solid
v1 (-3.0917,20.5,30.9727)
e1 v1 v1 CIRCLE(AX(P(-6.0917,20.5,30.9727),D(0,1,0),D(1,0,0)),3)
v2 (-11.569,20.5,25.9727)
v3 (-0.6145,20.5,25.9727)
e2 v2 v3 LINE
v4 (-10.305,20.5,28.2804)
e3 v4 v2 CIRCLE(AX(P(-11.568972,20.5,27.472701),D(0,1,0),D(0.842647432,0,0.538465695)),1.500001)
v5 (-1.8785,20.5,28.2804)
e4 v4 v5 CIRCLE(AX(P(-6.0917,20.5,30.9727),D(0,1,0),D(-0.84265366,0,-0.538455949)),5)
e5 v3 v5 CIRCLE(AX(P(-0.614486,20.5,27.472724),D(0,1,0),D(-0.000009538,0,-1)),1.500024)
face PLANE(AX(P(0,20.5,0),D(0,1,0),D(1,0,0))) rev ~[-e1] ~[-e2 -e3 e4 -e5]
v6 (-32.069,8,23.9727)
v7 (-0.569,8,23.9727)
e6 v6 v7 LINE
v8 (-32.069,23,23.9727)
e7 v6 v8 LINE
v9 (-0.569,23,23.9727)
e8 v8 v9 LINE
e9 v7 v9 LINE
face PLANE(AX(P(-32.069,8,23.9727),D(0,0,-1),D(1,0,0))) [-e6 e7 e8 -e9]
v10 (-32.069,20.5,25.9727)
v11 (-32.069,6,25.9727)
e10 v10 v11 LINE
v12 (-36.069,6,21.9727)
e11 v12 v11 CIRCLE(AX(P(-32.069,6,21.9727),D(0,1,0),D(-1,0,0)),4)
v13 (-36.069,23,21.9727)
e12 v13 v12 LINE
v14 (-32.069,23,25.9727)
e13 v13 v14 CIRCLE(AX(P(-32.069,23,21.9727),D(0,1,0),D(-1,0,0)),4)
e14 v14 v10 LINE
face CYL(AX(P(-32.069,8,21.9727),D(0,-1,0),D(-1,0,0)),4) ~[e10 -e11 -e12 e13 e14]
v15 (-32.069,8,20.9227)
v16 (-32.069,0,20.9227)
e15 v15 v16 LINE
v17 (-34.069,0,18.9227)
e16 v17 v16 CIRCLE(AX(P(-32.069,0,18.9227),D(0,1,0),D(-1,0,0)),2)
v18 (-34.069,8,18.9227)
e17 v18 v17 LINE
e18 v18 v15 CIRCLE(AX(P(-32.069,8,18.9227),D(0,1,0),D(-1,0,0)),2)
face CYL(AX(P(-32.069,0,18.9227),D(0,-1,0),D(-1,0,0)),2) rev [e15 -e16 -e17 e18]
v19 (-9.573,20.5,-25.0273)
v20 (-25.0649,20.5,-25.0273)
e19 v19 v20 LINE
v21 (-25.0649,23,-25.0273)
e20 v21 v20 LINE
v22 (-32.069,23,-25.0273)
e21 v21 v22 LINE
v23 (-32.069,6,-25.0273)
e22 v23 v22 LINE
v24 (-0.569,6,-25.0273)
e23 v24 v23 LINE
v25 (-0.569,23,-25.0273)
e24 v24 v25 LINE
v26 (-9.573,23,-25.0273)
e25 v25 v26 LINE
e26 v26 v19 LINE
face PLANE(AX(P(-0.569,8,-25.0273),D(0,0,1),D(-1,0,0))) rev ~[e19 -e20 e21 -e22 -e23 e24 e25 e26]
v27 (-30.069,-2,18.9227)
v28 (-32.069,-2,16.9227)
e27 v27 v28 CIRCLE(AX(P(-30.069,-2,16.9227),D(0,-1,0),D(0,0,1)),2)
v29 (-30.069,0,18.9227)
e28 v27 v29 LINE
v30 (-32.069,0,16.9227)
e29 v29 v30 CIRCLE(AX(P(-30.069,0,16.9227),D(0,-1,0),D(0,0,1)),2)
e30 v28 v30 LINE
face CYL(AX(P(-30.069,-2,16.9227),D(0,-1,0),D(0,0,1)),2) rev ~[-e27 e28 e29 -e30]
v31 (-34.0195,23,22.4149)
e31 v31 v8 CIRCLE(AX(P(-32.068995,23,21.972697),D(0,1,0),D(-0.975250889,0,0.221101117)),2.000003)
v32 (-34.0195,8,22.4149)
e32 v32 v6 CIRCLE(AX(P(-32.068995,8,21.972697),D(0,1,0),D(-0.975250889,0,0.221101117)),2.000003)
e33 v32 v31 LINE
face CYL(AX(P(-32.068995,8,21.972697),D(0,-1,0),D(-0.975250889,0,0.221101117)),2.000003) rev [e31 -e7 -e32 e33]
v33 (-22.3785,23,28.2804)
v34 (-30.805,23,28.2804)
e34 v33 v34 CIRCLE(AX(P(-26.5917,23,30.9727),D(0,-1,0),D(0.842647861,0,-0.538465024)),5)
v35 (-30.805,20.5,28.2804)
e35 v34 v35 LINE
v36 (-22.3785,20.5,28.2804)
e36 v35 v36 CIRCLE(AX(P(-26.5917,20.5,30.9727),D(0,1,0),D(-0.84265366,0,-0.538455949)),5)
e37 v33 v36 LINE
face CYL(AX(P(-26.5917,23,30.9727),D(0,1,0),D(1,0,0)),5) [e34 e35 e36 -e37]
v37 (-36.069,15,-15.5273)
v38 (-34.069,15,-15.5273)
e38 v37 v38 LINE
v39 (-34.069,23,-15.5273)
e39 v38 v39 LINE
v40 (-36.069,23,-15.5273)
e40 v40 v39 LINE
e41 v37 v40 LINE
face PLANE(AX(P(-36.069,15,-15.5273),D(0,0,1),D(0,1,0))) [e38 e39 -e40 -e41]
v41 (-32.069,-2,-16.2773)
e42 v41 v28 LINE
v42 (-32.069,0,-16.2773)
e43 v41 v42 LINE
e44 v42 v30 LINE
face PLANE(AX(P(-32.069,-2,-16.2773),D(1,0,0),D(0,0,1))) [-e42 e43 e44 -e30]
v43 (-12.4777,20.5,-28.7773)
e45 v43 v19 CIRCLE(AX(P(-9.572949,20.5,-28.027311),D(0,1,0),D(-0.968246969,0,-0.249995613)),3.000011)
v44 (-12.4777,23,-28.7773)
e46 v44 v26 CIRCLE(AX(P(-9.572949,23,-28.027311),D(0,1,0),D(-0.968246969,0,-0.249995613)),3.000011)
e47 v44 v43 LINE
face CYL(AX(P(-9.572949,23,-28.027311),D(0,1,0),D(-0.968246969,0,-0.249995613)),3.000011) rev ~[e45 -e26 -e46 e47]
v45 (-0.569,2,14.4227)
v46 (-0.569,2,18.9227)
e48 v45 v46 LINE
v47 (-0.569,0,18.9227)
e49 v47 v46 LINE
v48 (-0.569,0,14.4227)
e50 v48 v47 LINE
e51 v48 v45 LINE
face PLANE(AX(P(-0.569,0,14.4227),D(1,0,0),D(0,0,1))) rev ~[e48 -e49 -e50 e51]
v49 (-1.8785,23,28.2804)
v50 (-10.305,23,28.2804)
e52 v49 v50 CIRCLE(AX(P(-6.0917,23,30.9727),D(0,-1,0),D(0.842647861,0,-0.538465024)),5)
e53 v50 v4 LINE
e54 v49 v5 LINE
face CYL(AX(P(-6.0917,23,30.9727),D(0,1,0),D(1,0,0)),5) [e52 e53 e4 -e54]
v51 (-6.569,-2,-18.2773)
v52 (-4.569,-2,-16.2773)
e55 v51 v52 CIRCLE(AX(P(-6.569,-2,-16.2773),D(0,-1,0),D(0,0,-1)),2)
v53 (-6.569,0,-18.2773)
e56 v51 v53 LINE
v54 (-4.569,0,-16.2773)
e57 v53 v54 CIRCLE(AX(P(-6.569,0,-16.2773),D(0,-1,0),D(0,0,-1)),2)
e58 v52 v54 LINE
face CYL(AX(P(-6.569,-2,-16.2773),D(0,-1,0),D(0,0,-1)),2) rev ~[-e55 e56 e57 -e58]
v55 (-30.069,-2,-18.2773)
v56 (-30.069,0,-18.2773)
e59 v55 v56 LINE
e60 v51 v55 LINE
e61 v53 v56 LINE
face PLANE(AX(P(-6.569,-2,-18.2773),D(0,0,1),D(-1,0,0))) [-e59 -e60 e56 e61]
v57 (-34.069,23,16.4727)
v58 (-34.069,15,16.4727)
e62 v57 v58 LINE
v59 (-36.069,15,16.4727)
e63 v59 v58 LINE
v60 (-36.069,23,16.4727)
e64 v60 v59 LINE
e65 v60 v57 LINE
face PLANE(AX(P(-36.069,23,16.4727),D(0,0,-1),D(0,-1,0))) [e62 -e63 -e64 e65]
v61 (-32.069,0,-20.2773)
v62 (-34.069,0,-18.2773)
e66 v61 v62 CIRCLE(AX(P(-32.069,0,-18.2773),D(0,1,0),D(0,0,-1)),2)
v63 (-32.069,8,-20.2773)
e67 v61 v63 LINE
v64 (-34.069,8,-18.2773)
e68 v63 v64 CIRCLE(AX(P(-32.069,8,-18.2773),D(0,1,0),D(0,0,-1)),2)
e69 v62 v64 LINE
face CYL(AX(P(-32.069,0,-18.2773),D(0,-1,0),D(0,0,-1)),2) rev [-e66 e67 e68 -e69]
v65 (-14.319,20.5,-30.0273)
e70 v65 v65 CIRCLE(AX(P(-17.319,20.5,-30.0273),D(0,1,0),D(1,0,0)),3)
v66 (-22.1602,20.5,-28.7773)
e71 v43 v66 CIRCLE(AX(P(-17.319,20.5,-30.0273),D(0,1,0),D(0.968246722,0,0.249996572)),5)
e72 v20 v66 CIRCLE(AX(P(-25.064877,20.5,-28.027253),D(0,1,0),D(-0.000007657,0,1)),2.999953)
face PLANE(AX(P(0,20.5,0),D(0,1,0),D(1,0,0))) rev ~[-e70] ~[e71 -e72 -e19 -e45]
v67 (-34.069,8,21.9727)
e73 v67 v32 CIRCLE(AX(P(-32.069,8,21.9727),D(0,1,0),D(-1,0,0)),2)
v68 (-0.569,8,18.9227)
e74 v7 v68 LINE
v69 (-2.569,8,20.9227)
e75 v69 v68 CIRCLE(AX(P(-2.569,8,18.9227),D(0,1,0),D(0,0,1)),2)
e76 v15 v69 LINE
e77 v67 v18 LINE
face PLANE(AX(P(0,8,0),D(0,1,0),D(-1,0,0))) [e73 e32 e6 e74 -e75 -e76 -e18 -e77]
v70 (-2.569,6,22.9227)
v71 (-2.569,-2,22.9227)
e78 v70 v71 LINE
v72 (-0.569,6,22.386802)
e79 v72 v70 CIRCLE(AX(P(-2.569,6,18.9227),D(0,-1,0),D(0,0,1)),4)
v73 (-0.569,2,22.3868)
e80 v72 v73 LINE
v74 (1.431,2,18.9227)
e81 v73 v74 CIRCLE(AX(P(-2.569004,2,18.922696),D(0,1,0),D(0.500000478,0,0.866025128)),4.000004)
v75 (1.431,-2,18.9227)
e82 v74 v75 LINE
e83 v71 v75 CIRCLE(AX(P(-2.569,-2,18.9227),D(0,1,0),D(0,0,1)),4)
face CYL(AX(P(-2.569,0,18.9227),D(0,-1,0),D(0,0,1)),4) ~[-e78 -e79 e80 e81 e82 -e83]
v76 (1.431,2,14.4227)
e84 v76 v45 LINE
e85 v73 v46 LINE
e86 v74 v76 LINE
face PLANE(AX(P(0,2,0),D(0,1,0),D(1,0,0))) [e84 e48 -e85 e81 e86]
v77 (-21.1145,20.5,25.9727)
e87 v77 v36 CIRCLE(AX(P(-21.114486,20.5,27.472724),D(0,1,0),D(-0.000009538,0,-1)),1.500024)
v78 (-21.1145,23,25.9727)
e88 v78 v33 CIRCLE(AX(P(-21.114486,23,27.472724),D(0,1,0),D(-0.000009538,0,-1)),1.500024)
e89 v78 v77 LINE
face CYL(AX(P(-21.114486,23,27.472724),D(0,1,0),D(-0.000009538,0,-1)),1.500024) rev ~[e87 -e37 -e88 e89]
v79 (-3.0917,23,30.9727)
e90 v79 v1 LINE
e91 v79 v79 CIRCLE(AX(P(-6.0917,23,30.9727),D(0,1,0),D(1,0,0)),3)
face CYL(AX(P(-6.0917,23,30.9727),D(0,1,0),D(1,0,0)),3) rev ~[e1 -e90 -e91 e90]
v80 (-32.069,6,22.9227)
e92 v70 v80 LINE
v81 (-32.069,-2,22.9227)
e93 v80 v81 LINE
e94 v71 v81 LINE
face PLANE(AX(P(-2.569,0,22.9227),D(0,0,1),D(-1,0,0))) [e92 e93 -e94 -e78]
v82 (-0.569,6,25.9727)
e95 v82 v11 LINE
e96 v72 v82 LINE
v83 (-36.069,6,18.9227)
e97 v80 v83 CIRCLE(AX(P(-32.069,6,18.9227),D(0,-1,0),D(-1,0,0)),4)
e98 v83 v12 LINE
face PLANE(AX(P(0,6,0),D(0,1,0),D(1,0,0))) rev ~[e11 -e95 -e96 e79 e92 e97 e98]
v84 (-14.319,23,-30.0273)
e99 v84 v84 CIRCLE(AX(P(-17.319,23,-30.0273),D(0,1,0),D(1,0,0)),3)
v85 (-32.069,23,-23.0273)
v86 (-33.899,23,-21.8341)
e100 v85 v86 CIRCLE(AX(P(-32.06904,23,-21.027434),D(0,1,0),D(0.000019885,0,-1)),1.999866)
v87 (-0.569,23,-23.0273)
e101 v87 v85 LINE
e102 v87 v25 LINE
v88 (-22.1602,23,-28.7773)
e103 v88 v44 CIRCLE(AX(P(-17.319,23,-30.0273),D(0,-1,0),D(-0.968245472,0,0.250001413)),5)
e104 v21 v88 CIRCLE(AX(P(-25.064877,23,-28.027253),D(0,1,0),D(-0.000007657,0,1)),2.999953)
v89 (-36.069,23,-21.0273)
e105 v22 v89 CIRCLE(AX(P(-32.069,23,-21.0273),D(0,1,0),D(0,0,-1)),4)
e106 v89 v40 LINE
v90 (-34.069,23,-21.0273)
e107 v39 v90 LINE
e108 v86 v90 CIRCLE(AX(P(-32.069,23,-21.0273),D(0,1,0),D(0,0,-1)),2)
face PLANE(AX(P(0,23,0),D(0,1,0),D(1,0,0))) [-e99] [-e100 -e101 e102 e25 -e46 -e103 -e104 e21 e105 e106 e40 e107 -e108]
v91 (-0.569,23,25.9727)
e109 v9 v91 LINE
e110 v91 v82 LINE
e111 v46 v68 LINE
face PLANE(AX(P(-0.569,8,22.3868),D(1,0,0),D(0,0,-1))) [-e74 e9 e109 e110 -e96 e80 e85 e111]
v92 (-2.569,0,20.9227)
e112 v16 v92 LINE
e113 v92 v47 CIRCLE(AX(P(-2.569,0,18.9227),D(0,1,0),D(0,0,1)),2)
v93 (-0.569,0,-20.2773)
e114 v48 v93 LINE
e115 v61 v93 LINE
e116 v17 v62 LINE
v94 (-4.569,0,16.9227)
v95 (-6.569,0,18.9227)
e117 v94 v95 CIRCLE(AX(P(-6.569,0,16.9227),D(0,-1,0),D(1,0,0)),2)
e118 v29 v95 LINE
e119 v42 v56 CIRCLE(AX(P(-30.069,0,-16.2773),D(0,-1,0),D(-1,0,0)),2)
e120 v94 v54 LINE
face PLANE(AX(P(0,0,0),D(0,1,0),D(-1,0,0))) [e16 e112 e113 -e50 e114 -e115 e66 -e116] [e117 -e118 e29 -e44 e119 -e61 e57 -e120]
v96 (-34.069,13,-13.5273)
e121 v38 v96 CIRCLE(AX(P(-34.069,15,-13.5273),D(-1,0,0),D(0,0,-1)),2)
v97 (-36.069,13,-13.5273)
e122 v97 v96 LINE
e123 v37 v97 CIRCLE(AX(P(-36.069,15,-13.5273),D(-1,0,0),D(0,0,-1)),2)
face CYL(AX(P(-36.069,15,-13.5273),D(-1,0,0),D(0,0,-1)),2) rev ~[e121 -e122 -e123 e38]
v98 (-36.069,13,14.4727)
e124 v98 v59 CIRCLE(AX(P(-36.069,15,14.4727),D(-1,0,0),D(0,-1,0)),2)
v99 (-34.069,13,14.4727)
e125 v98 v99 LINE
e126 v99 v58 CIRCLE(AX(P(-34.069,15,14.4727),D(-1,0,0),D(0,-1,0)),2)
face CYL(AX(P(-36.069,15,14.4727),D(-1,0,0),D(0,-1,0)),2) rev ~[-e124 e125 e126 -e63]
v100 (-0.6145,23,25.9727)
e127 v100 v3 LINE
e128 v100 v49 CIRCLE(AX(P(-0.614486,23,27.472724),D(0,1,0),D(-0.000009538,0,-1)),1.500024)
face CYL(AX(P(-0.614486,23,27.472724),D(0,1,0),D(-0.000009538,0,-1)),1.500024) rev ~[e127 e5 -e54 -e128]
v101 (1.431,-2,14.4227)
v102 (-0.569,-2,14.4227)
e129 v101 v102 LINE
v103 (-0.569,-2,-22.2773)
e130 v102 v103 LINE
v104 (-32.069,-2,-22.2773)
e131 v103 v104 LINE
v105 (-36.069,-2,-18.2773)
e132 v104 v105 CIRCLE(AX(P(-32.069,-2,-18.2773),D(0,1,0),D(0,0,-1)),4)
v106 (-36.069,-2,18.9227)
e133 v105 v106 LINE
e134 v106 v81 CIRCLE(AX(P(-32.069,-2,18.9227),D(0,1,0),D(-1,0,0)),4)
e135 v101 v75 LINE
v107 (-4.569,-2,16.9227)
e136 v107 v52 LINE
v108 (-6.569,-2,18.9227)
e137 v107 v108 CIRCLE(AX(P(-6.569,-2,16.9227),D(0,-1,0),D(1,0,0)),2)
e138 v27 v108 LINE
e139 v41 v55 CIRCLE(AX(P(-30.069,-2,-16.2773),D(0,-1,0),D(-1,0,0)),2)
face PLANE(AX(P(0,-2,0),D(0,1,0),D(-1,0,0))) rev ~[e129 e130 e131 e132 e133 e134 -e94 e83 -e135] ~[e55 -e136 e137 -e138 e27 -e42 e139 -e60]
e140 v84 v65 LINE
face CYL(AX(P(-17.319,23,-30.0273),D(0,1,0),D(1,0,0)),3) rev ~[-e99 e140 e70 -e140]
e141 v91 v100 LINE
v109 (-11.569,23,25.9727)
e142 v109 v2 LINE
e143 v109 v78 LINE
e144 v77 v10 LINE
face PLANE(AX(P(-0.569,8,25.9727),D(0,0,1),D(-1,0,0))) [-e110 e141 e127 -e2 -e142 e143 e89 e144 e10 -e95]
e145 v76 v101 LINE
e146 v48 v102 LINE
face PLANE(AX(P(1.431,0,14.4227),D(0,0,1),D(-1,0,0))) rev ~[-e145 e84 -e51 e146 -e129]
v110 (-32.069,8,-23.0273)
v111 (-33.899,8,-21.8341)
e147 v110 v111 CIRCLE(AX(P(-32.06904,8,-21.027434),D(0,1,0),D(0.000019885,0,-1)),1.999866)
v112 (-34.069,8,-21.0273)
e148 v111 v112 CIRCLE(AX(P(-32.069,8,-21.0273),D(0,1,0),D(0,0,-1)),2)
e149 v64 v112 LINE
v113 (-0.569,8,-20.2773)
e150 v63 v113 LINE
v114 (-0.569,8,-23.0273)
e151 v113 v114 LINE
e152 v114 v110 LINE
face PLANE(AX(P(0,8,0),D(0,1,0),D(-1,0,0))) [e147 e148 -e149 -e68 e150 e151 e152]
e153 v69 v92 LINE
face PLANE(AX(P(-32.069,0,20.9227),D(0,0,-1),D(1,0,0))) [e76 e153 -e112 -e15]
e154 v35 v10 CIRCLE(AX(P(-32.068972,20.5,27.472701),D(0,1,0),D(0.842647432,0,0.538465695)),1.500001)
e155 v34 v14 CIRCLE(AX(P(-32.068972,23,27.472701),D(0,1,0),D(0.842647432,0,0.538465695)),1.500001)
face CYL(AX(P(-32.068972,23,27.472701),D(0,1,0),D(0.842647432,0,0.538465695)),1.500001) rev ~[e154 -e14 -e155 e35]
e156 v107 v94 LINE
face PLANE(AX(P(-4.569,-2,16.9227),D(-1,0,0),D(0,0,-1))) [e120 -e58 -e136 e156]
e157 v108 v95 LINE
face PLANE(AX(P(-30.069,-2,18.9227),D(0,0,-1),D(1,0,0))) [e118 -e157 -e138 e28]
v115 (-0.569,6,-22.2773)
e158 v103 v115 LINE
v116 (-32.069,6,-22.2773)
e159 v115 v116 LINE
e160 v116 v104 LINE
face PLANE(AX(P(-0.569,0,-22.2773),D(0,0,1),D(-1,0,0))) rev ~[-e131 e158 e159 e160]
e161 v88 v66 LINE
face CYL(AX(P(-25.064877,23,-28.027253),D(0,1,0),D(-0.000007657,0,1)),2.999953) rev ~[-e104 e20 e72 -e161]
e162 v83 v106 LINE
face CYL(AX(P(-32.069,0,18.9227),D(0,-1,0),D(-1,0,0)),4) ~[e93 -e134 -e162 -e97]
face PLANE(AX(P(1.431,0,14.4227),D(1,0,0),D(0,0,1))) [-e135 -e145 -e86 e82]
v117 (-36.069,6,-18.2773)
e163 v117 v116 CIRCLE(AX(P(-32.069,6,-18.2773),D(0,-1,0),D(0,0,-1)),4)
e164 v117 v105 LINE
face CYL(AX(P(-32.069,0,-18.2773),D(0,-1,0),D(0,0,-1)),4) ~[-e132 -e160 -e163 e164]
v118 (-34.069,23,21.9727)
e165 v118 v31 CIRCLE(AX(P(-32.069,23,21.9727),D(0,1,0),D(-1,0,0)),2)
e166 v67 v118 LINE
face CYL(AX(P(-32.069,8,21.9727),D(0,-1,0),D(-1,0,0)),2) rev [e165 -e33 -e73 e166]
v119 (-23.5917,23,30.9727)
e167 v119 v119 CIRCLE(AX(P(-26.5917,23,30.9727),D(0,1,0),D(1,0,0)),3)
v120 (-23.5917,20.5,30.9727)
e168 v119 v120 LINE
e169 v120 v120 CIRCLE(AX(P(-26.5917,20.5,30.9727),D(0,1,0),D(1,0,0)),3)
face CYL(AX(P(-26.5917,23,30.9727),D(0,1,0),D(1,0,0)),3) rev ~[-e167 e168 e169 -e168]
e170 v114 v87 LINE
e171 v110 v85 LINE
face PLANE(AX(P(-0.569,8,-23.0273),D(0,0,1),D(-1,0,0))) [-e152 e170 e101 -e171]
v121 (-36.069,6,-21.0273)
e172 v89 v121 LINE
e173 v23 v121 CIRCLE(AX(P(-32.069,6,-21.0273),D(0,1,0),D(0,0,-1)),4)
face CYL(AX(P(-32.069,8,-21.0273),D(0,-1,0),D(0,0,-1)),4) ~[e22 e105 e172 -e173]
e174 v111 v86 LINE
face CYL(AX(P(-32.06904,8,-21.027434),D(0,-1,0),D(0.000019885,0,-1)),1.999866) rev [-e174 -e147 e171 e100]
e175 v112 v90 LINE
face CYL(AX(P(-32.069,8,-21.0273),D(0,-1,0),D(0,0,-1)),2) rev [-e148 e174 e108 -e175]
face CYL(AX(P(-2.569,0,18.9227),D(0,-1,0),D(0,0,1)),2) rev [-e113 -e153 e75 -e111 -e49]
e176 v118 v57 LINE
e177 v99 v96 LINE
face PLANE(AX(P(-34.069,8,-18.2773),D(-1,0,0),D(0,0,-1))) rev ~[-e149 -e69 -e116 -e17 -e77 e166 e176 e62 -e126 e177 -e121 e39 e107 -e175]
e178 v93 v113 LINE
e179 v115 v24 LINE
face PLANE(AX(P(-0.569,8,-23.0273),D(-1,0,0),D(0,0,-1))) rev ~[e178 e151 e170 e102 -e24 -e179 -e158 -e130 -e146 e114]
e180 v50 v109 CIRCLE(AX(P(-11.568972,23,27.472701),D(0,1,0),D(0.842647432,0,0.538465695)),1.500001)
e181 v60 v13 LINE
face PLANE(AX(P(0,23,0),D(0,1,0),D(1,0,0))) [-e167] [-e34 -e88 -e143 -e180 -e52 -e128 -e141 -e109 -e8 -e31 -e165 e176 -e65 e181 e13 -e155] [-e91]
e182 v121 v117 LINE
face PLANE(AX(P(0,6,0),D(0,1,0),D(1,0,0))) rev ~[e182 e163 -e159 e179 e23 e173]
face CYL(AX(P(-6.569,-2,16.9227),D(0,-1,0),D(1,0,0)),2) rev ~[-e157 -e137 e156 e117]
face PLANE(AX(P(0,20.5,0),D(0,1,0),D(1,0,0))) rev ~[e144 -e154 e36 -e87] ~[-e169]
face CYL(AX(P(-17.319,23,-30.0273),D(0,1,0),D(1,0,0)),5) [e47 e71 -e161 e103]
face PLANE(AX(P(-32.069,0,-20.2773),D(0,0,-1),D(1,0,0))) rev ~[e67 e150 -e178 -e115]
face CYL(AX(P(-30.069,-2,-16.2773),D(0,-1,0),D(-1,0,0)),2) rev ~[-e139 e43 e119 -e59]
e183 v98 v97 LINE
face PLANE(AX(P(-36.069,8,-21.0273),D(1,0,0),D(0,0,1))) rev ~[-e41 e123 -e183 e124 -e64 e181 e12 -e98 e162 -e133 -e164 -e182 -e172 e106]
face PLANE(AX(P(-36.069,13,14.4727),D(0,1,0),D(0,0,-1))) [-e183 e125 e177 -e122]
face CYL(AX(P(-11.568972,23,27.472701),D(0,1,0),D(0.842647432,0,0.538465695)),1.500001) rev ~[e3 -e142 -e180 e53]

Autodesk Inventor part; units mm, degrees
ref_plane "YZ Plane" through (0, 0, 0) normal (1, 0, 0) x (0, 1, 0)
ref_plane "XZ Plane" through (0, 0, 0) normal (0, 1, 0) x (-1, 0, 0)
sketch "Sketch1" plane through (0, 0, 0) normal (0, 1, 0) x (-1, 0, 0)
  arc A0 (31.569, 13.7227) -> (30.069, 12.2227) centre (31.569, 12.2227) ccw
  line L0 (31.569, 13.7227) -> (34.069, 13.7227)
  line L1 (34.069, 13.7227) -> (34.069, 18.9227)
  line L2 (32.069, 20.9227) -> (2.569, 20.9227)
  line L3 (34.069, -13.2773) -> (31.569, -13.2773)
  arc A1 (30.069, -11.7773) -> (31.569, -13.2773) centre (31.569, -11.7773) ccw
  arc A2 (34.069, 18.9227) -> (32.069, 20.9227) centre (32.069, 18.9227) ccw
  arc A3 (34.0195, 22.4149) -> (32.069, 23.9727) centre (32.069, 21.9727) ccw
  line L4 (32.069, 23.9727) -> (-23.931, 23.9727)
  arc A4 (-23.931, 23.9727) -> (-25.931, 21.9727) centre (-23.931, 21.9727) ccw
  line L5 (-25.931, 21.9727) -> (-25.931, -21.0273)
  arc A5 (-25.931, -21.0273) -> (-23.931, -23.0273) centre (-23.931, -21.0273) ccw
  line L6 (-23.931, -23.0273) -> (32.069, -23.0273)
  arc A6 (32.069, -23.0273) -> (33.899, -21.8341) centre (32.069, -21.0273) ccw
  arc A7 (32.069, -20.2773) -> (34.069, -18.2773) centre (32.069, -18.2773) ccw
  line L7 (32.069, -20.2773) -> (0.569, -20.2773)
  line L8 (34.069, -13.2773) -> (34.069, 13.7227)
  line L9 (0.569, -22.2773) -> (0.569, 18.9227)
  line L10 (30.069, -11.7773) -> (30.069, 12.2227)
  line L11 (34.069, -18.2773) -> (34.069, -13.2773)
  line L12 (2.569, 22.9227) -> (32.069, 22.9227)
  line L13 (0.569, -22.2773) -> (32.069, -22.2773)
  arc A8 (32.069, -22.2773) -> (36.069, -18.2773) centre (32.069, -18.2773) ccw
  line L14 (36.069, -18.2773) -> (36.069, 18.9227)
  arc A9 (2.569, 20.9227) -> (0.569, 18.9227) centre (2.569, 18.9227) ccw
  line L15 (-1.431, 14.4227) -> (-1.431, 18.9227)
  arc A10 (2.569, 22.9227) -> (-1.431, 18.9227) centre (2.569, 18.9227) ccw
  arc A11 (36.069, 18.9227) -> (32.069, 22.9227) centre (32.069, 18.9227) ccw
  line L16 (-1.431, 14.4227) -> (0.569, 14.4227)
  point P0 (0.569, 20.9227)
  dimension "d8" = 2
  dimension "d9" = 2
  dimension "d66" = 2
  dimension "d67" = 2
  dimension "d68" = 4.5
  dimension "d69" = 4
extrude "Extrusion3" add sketch "Sketch1" against normal blind 2 contours L0 L8 L3 A1 L10 A0 | A0 L10 A1 L3 L11 A7 L7 L9 A9 L2 A2 L1 L0 | L1 A2 L2 A9 L9 L16 L15 A10 L12 A11 L14 A8 L13 L7 A7 L11 L8
ref_plane "Work Plane1" through (0, 8, 0) normal (0, 1, 0) x (1, 0, 0)
extrude "Extrusion4" add sketch "Sketch1" along normal blind 8 contours L1 A2 L2 A9 L9 L16 L15 A10 L12 A11 L14 A8 L13 L7 A7 L11 L8
sketch "Sketch2" plane through (0, 8, 0) normal (0, 1, 0) x (1, 0, 0)
  line L0 (23.931, 23.0273) -> (-32.069, 23.0273) projected
  arc A0 (-32.069, 23.0273) -> (-33.899, 21.8341) centre (-32.069, 21.0273) ccw projected
  line L1 (-32.069, -23.9727) -> (23.931, -23.9727) projected
  arc A1 (-34.0195, -22.4149) -> (-32.069, -23.9727) centre (-32.069, -21.9727) ccw projected
  arc A2 (-32.069, 23.0273) -> (-34.069, 21.0273) centre (-32.069, 21.0273) ccw
  arc A3 (-34.069, -21.9727) -> (-32.069, -23.9727) centre (-32.069, -21.9727) ccw
  line L2 (-34.069, 18.2773) -> (-34.069, 13.2773) projected
  line L3 (-34.069, 13.2773) -> (-34.069, -13.7227) projected
  line L4 (-34.069, -13.7227) -> (-34.069, -18.9227) projected
  line L5 (-34.069, -21.9727) -> (-34.069, 21.0273)
  arc A4 (-32.069, 25.0273) -> (-36.069, 21.0273) centre (-32.069, 21.0273) ccw
  line L6 (-0.569, 25.0273) -> (-32.069, 25.0273)
  line L7 (-0.569, -25.9727) -> (-32.069, -25.9727)
  line L8 (-0.569, -23.9727) -> (-0.569, -25.9727)
  line L9 (-0.569, 20.2773) -> (-0.569, 25.0273)
  line L10 (-0.569, 22.2773) -> (-0.569, 22.2773) projected
  line L11 (-32.069, 23.0273) -> (-0.569, 23.0273)
  line L12 (-32.069, -23.9727) -> (-0.569, -23.9727)
  line L13 (-32.069, -20.9227) -> (-2.569, -20.9227) projected
  line L14 (-0.569, -14.4227) -> (-0.569, 20.2773) projected
  line L15 (-0.569, 20.2773) -> (-32.069, 20.2773) projected
  arc A5 (-32.069, 20.2773) -> (-34.069, 18.2773) centre (-32.069, 18.2773) ccw projected
  line L16 (-34.069, 18.2773) -> (-34.069, -18.9227) projected
  arc A6 (-34.069, -18.9227) -> (-32.069, -20.9227) centre (-32.069, -18.9227) ccw projected
  line L17 (-32.069, 22.2773) -> (-0.569, 22.2773) projected
  line L18 (-0.569, 22.2773) -> (-0.569, 22.2773)
  arc A7 (-2.569, -20.9227) -> (-0.569, -18.9227) centre (-2.569, -18.9227) ccw projected
  line L19 (-0.569, -18.9227) -> (-0.569, -14.4227) projected
  line L20 (-0.569, -23.9727) -> (-0.569, -18.9227)
  line L21 (-36.069, 21.0273) -> (-36.069, -21.9727)
  arc A8 (-36.069, -21.9727) -> (-32.069, -25.9727) centre (-32.069, -21.9727) ccw
  point P0 (0, 0)
  point P1 (-32.069, 25.0273)
  dimension "d19" = 2
  dimension "d20" = 2
  dimension "d21" = 31.5
  dimension "d22" = 31.5
  dimension "d23" = 31.5
extrude "Extrusion7" add sketch "Sketch2" against normal blind 2 contours L9 L15 A5 L5 A2 A0 L0 | L0 A0 A2 L5 L2 L3 L4 A3 A1 L1 L8 L7 A8 L21 A4 L6 L9 | L20 L1 A1 A3 L5 A6 L13 A7
extrude "Extrusion8" add sketch "Sketch2" along normal blind 15 contours L0 A0 A2 L5 L2 L3 L4 A3 A1 L1 L8 L7 A8 L21 A4 L6 L9
sketch "Sketch5" plane through (0, 23, 0) normal (0, 1, 0) x (1, 0, 0)
  circle A0 centre (-17.319, 30.0273) radius 5
  circle A1 centre (-17.319, 30.0273) radius 3
  arc A2 (-12.4777, 28.7773) -> (-9.573, 25.0273) centre (-9.573, 28.0273) ccw
  arc A3 (-25.0649, 25.0273) -> (-22.1602, 28.7773) centre (-25.0649, 28.0273) ccw
  line L0 (-0.569, 23.0273) -> (-0.569, 25.0273) projected
  circle A4 centre (-6.0917, -30.9727) radius 5
  circle A5 centre (-6.0917, -30.9727) radius 3
  arc A6 (-10.305, -28.2804) -> (-11.569, -25.9727) centre (-11.569, -27.4727) ccw
  arc A7 (-0.6145, -25.9727) -> (-1.8785, -28.2804) centre (-0.6145, -27.4727) ccw
  circle A8 centre (-26.5917, -30.9727) radius 5
  circle A9 centre (-26.5917, -30.9727) radius 3
  arc A10 (-30.805, -28.2804) -> (-32.069, -25.9727) centre (-32.069, -27.4727) ccw
  arc A11 (-21.1145, -25.9727) -> (-22.3785, -28.2804) centre (-21.1145, -27.4727) ccw
  line L1 (-0.569, -25.9727) -> (-0.569, -23.9727) projected
  line L2 (-0.569, 25.0273) -> (-32.069, 25.0273) projected
  line L3 (-32.069, -25.9727) -> (-0.569, -25.9727) projected
  point P0 (0, 0)
  point P1 (1.0185, -24.3852)
  point P2 (-26.5917, -25.9727)
  point P3 (-6.0917, -25.9727)
  point P4 (-17.319, 25.0273)
  dimension "d34" = 10
  dimension "d35" = 6
  dimension "d38" = 3
  dimension "d39" = 3
  dimension "d40" = 10
  dimension "d41" = 6
  dimension "d42" = 3
  dimension "d43" = 3
  dimension "d44" = 10
  dimension "d45" = 6
  dimension "d46" = 3
  dimension "d47" = 3
  dimension "d49" = 20.5
extrude "Extrusion10" add sketch "Sketch5" against normal blind 2.5
sketch "Sketch6" plane through (0, -2, 0) normal (0, -1, 0) x (1, 0, 0)
  line L0 (-0.569, -22.2773) -> (-0.569, 14.4227) projected
  line L1 (-2.569, 22.9227) -> (-32.069, 22.9227) projected
  arc A0 (-32.069, 22.9227) -> (-36.069, 18.9227) centre (-32.069, 18.9227) ccw projected
  line L2 (-36.069, 18.9227) -> (-36.069, -18.2773) projected
  arc A1 (-36.069, -18.2773) -> (-32.069, -22.2773) centre (-32.069, -18.2773) ccw projected
  line L3 (-32.069, -22.2773) -> (-0.569, -22.2773) projected
  line L4 (-30.069, 18.9227) -> (-6.569, 18.9227)
  line L5 (-4.569, 16.9227) -> (-4.569, -16.2773)
  line L6 (-6.569, -18.2773) -> (-30.069, -18.2773)
  line L7 (-32.069, -16.2773) -> (-32.069, 16.9227)
  arc A2 (-6.569, -18.2773) -> (-4.569, -16.2773) centre (-6.569, -16.2773) ccw
  arc A3 (-32.069, -16.2773) -> (-30.069, -18.2773) centre (-30.069, -16.2773) ccw
  arc A4 (-30.069, 18.9227) -> (-32.069, 16.9227) centre (-30.069, 16.9227) ccw
  arc A5 (-4.569, 16.9227) -> (-6.569, 18.9227) centre (-6.569, 16.9227) ccw
  line L8 (-0.569, 14.4227) -> (1.431, 14.4227) projected
  line L9 (1.431, 14.4227) -> (1.431, 18.9227) projected
  arc A6 (1.431, 18.9227) -> (-2.569, 22.9227) centre (-2.569, 18.9227) ccw projected
  point P0 (0, 0)
  point P1 (-4.569, 18.9227)
  point P2 (-4.569, -18.2773)
  dimension "d52" = 4
  dimension "d53" = 37.2
  dimension "d54" = 27.5
  dimension "d55" = 4
  dimension "d56" = 2
extrude "Extrusion11" cut sketch "Sketch6" against normal blind 2 contours L4 A5 L5 A2 L6 A3 L7 A4
sketch "Sketch7" plane through (-36.069, -2, -18.2773) normal (-1, 0, 0) x (0, 0, 1)
  line L0 (2.75, 25) -> (34.75, 25)
  line L1 (34.75, 25) -> (34.75, 17)
  line L2 (32.75, 15) -> (4.75, 15)
  line L3 (2.75, 17) -> (2.75, 25)
  arc A0 (2.75, 17) -> (4.75, 15) centre (4.75, 17) ccw
  arc A1 (32.75, 15) -> (34.75, 17) centre (32.75, 17) ccw
  point P0 (18.2773, 2)
  point P1 (40.25, 25)
  point P2 (-2.75, 25)
  point P3 (34.75, 21)
  point P4 (40.25, 8)
  dimension "d59" = 2
  dimension "d61" = 32
  dimension "d62" = 43
extrude "Extrusion12" cut sketch "Sketch7" against normal blind 6
sketch "Sketch8" plane through (0, 8, 0) normal (0, 1, 0) x (1, 0, 0)
  line L0 (-0.569, -14.4227) -> (-0.569, -18.9227) projected
  line L1 (1.431, -14.4227) -> (-0.569, -14.4227) projected
  line L2 (1.431, -18.9227) -> (1.431, -14.4227) projected
  arc A0 (-0.569, -22.3868) -> (1.431, -18.9227) centre (-2.569, -18.9227) ccw projected
  line L3 (-0.569, -23.9727) -> (-0.569, -18.9227) projected
  point P0 (0, 0)
extrude "Extrusion13" cut sketch "Sketch8" against normal blind 6
properties part number "CO-1-01-motorControllersMount"
